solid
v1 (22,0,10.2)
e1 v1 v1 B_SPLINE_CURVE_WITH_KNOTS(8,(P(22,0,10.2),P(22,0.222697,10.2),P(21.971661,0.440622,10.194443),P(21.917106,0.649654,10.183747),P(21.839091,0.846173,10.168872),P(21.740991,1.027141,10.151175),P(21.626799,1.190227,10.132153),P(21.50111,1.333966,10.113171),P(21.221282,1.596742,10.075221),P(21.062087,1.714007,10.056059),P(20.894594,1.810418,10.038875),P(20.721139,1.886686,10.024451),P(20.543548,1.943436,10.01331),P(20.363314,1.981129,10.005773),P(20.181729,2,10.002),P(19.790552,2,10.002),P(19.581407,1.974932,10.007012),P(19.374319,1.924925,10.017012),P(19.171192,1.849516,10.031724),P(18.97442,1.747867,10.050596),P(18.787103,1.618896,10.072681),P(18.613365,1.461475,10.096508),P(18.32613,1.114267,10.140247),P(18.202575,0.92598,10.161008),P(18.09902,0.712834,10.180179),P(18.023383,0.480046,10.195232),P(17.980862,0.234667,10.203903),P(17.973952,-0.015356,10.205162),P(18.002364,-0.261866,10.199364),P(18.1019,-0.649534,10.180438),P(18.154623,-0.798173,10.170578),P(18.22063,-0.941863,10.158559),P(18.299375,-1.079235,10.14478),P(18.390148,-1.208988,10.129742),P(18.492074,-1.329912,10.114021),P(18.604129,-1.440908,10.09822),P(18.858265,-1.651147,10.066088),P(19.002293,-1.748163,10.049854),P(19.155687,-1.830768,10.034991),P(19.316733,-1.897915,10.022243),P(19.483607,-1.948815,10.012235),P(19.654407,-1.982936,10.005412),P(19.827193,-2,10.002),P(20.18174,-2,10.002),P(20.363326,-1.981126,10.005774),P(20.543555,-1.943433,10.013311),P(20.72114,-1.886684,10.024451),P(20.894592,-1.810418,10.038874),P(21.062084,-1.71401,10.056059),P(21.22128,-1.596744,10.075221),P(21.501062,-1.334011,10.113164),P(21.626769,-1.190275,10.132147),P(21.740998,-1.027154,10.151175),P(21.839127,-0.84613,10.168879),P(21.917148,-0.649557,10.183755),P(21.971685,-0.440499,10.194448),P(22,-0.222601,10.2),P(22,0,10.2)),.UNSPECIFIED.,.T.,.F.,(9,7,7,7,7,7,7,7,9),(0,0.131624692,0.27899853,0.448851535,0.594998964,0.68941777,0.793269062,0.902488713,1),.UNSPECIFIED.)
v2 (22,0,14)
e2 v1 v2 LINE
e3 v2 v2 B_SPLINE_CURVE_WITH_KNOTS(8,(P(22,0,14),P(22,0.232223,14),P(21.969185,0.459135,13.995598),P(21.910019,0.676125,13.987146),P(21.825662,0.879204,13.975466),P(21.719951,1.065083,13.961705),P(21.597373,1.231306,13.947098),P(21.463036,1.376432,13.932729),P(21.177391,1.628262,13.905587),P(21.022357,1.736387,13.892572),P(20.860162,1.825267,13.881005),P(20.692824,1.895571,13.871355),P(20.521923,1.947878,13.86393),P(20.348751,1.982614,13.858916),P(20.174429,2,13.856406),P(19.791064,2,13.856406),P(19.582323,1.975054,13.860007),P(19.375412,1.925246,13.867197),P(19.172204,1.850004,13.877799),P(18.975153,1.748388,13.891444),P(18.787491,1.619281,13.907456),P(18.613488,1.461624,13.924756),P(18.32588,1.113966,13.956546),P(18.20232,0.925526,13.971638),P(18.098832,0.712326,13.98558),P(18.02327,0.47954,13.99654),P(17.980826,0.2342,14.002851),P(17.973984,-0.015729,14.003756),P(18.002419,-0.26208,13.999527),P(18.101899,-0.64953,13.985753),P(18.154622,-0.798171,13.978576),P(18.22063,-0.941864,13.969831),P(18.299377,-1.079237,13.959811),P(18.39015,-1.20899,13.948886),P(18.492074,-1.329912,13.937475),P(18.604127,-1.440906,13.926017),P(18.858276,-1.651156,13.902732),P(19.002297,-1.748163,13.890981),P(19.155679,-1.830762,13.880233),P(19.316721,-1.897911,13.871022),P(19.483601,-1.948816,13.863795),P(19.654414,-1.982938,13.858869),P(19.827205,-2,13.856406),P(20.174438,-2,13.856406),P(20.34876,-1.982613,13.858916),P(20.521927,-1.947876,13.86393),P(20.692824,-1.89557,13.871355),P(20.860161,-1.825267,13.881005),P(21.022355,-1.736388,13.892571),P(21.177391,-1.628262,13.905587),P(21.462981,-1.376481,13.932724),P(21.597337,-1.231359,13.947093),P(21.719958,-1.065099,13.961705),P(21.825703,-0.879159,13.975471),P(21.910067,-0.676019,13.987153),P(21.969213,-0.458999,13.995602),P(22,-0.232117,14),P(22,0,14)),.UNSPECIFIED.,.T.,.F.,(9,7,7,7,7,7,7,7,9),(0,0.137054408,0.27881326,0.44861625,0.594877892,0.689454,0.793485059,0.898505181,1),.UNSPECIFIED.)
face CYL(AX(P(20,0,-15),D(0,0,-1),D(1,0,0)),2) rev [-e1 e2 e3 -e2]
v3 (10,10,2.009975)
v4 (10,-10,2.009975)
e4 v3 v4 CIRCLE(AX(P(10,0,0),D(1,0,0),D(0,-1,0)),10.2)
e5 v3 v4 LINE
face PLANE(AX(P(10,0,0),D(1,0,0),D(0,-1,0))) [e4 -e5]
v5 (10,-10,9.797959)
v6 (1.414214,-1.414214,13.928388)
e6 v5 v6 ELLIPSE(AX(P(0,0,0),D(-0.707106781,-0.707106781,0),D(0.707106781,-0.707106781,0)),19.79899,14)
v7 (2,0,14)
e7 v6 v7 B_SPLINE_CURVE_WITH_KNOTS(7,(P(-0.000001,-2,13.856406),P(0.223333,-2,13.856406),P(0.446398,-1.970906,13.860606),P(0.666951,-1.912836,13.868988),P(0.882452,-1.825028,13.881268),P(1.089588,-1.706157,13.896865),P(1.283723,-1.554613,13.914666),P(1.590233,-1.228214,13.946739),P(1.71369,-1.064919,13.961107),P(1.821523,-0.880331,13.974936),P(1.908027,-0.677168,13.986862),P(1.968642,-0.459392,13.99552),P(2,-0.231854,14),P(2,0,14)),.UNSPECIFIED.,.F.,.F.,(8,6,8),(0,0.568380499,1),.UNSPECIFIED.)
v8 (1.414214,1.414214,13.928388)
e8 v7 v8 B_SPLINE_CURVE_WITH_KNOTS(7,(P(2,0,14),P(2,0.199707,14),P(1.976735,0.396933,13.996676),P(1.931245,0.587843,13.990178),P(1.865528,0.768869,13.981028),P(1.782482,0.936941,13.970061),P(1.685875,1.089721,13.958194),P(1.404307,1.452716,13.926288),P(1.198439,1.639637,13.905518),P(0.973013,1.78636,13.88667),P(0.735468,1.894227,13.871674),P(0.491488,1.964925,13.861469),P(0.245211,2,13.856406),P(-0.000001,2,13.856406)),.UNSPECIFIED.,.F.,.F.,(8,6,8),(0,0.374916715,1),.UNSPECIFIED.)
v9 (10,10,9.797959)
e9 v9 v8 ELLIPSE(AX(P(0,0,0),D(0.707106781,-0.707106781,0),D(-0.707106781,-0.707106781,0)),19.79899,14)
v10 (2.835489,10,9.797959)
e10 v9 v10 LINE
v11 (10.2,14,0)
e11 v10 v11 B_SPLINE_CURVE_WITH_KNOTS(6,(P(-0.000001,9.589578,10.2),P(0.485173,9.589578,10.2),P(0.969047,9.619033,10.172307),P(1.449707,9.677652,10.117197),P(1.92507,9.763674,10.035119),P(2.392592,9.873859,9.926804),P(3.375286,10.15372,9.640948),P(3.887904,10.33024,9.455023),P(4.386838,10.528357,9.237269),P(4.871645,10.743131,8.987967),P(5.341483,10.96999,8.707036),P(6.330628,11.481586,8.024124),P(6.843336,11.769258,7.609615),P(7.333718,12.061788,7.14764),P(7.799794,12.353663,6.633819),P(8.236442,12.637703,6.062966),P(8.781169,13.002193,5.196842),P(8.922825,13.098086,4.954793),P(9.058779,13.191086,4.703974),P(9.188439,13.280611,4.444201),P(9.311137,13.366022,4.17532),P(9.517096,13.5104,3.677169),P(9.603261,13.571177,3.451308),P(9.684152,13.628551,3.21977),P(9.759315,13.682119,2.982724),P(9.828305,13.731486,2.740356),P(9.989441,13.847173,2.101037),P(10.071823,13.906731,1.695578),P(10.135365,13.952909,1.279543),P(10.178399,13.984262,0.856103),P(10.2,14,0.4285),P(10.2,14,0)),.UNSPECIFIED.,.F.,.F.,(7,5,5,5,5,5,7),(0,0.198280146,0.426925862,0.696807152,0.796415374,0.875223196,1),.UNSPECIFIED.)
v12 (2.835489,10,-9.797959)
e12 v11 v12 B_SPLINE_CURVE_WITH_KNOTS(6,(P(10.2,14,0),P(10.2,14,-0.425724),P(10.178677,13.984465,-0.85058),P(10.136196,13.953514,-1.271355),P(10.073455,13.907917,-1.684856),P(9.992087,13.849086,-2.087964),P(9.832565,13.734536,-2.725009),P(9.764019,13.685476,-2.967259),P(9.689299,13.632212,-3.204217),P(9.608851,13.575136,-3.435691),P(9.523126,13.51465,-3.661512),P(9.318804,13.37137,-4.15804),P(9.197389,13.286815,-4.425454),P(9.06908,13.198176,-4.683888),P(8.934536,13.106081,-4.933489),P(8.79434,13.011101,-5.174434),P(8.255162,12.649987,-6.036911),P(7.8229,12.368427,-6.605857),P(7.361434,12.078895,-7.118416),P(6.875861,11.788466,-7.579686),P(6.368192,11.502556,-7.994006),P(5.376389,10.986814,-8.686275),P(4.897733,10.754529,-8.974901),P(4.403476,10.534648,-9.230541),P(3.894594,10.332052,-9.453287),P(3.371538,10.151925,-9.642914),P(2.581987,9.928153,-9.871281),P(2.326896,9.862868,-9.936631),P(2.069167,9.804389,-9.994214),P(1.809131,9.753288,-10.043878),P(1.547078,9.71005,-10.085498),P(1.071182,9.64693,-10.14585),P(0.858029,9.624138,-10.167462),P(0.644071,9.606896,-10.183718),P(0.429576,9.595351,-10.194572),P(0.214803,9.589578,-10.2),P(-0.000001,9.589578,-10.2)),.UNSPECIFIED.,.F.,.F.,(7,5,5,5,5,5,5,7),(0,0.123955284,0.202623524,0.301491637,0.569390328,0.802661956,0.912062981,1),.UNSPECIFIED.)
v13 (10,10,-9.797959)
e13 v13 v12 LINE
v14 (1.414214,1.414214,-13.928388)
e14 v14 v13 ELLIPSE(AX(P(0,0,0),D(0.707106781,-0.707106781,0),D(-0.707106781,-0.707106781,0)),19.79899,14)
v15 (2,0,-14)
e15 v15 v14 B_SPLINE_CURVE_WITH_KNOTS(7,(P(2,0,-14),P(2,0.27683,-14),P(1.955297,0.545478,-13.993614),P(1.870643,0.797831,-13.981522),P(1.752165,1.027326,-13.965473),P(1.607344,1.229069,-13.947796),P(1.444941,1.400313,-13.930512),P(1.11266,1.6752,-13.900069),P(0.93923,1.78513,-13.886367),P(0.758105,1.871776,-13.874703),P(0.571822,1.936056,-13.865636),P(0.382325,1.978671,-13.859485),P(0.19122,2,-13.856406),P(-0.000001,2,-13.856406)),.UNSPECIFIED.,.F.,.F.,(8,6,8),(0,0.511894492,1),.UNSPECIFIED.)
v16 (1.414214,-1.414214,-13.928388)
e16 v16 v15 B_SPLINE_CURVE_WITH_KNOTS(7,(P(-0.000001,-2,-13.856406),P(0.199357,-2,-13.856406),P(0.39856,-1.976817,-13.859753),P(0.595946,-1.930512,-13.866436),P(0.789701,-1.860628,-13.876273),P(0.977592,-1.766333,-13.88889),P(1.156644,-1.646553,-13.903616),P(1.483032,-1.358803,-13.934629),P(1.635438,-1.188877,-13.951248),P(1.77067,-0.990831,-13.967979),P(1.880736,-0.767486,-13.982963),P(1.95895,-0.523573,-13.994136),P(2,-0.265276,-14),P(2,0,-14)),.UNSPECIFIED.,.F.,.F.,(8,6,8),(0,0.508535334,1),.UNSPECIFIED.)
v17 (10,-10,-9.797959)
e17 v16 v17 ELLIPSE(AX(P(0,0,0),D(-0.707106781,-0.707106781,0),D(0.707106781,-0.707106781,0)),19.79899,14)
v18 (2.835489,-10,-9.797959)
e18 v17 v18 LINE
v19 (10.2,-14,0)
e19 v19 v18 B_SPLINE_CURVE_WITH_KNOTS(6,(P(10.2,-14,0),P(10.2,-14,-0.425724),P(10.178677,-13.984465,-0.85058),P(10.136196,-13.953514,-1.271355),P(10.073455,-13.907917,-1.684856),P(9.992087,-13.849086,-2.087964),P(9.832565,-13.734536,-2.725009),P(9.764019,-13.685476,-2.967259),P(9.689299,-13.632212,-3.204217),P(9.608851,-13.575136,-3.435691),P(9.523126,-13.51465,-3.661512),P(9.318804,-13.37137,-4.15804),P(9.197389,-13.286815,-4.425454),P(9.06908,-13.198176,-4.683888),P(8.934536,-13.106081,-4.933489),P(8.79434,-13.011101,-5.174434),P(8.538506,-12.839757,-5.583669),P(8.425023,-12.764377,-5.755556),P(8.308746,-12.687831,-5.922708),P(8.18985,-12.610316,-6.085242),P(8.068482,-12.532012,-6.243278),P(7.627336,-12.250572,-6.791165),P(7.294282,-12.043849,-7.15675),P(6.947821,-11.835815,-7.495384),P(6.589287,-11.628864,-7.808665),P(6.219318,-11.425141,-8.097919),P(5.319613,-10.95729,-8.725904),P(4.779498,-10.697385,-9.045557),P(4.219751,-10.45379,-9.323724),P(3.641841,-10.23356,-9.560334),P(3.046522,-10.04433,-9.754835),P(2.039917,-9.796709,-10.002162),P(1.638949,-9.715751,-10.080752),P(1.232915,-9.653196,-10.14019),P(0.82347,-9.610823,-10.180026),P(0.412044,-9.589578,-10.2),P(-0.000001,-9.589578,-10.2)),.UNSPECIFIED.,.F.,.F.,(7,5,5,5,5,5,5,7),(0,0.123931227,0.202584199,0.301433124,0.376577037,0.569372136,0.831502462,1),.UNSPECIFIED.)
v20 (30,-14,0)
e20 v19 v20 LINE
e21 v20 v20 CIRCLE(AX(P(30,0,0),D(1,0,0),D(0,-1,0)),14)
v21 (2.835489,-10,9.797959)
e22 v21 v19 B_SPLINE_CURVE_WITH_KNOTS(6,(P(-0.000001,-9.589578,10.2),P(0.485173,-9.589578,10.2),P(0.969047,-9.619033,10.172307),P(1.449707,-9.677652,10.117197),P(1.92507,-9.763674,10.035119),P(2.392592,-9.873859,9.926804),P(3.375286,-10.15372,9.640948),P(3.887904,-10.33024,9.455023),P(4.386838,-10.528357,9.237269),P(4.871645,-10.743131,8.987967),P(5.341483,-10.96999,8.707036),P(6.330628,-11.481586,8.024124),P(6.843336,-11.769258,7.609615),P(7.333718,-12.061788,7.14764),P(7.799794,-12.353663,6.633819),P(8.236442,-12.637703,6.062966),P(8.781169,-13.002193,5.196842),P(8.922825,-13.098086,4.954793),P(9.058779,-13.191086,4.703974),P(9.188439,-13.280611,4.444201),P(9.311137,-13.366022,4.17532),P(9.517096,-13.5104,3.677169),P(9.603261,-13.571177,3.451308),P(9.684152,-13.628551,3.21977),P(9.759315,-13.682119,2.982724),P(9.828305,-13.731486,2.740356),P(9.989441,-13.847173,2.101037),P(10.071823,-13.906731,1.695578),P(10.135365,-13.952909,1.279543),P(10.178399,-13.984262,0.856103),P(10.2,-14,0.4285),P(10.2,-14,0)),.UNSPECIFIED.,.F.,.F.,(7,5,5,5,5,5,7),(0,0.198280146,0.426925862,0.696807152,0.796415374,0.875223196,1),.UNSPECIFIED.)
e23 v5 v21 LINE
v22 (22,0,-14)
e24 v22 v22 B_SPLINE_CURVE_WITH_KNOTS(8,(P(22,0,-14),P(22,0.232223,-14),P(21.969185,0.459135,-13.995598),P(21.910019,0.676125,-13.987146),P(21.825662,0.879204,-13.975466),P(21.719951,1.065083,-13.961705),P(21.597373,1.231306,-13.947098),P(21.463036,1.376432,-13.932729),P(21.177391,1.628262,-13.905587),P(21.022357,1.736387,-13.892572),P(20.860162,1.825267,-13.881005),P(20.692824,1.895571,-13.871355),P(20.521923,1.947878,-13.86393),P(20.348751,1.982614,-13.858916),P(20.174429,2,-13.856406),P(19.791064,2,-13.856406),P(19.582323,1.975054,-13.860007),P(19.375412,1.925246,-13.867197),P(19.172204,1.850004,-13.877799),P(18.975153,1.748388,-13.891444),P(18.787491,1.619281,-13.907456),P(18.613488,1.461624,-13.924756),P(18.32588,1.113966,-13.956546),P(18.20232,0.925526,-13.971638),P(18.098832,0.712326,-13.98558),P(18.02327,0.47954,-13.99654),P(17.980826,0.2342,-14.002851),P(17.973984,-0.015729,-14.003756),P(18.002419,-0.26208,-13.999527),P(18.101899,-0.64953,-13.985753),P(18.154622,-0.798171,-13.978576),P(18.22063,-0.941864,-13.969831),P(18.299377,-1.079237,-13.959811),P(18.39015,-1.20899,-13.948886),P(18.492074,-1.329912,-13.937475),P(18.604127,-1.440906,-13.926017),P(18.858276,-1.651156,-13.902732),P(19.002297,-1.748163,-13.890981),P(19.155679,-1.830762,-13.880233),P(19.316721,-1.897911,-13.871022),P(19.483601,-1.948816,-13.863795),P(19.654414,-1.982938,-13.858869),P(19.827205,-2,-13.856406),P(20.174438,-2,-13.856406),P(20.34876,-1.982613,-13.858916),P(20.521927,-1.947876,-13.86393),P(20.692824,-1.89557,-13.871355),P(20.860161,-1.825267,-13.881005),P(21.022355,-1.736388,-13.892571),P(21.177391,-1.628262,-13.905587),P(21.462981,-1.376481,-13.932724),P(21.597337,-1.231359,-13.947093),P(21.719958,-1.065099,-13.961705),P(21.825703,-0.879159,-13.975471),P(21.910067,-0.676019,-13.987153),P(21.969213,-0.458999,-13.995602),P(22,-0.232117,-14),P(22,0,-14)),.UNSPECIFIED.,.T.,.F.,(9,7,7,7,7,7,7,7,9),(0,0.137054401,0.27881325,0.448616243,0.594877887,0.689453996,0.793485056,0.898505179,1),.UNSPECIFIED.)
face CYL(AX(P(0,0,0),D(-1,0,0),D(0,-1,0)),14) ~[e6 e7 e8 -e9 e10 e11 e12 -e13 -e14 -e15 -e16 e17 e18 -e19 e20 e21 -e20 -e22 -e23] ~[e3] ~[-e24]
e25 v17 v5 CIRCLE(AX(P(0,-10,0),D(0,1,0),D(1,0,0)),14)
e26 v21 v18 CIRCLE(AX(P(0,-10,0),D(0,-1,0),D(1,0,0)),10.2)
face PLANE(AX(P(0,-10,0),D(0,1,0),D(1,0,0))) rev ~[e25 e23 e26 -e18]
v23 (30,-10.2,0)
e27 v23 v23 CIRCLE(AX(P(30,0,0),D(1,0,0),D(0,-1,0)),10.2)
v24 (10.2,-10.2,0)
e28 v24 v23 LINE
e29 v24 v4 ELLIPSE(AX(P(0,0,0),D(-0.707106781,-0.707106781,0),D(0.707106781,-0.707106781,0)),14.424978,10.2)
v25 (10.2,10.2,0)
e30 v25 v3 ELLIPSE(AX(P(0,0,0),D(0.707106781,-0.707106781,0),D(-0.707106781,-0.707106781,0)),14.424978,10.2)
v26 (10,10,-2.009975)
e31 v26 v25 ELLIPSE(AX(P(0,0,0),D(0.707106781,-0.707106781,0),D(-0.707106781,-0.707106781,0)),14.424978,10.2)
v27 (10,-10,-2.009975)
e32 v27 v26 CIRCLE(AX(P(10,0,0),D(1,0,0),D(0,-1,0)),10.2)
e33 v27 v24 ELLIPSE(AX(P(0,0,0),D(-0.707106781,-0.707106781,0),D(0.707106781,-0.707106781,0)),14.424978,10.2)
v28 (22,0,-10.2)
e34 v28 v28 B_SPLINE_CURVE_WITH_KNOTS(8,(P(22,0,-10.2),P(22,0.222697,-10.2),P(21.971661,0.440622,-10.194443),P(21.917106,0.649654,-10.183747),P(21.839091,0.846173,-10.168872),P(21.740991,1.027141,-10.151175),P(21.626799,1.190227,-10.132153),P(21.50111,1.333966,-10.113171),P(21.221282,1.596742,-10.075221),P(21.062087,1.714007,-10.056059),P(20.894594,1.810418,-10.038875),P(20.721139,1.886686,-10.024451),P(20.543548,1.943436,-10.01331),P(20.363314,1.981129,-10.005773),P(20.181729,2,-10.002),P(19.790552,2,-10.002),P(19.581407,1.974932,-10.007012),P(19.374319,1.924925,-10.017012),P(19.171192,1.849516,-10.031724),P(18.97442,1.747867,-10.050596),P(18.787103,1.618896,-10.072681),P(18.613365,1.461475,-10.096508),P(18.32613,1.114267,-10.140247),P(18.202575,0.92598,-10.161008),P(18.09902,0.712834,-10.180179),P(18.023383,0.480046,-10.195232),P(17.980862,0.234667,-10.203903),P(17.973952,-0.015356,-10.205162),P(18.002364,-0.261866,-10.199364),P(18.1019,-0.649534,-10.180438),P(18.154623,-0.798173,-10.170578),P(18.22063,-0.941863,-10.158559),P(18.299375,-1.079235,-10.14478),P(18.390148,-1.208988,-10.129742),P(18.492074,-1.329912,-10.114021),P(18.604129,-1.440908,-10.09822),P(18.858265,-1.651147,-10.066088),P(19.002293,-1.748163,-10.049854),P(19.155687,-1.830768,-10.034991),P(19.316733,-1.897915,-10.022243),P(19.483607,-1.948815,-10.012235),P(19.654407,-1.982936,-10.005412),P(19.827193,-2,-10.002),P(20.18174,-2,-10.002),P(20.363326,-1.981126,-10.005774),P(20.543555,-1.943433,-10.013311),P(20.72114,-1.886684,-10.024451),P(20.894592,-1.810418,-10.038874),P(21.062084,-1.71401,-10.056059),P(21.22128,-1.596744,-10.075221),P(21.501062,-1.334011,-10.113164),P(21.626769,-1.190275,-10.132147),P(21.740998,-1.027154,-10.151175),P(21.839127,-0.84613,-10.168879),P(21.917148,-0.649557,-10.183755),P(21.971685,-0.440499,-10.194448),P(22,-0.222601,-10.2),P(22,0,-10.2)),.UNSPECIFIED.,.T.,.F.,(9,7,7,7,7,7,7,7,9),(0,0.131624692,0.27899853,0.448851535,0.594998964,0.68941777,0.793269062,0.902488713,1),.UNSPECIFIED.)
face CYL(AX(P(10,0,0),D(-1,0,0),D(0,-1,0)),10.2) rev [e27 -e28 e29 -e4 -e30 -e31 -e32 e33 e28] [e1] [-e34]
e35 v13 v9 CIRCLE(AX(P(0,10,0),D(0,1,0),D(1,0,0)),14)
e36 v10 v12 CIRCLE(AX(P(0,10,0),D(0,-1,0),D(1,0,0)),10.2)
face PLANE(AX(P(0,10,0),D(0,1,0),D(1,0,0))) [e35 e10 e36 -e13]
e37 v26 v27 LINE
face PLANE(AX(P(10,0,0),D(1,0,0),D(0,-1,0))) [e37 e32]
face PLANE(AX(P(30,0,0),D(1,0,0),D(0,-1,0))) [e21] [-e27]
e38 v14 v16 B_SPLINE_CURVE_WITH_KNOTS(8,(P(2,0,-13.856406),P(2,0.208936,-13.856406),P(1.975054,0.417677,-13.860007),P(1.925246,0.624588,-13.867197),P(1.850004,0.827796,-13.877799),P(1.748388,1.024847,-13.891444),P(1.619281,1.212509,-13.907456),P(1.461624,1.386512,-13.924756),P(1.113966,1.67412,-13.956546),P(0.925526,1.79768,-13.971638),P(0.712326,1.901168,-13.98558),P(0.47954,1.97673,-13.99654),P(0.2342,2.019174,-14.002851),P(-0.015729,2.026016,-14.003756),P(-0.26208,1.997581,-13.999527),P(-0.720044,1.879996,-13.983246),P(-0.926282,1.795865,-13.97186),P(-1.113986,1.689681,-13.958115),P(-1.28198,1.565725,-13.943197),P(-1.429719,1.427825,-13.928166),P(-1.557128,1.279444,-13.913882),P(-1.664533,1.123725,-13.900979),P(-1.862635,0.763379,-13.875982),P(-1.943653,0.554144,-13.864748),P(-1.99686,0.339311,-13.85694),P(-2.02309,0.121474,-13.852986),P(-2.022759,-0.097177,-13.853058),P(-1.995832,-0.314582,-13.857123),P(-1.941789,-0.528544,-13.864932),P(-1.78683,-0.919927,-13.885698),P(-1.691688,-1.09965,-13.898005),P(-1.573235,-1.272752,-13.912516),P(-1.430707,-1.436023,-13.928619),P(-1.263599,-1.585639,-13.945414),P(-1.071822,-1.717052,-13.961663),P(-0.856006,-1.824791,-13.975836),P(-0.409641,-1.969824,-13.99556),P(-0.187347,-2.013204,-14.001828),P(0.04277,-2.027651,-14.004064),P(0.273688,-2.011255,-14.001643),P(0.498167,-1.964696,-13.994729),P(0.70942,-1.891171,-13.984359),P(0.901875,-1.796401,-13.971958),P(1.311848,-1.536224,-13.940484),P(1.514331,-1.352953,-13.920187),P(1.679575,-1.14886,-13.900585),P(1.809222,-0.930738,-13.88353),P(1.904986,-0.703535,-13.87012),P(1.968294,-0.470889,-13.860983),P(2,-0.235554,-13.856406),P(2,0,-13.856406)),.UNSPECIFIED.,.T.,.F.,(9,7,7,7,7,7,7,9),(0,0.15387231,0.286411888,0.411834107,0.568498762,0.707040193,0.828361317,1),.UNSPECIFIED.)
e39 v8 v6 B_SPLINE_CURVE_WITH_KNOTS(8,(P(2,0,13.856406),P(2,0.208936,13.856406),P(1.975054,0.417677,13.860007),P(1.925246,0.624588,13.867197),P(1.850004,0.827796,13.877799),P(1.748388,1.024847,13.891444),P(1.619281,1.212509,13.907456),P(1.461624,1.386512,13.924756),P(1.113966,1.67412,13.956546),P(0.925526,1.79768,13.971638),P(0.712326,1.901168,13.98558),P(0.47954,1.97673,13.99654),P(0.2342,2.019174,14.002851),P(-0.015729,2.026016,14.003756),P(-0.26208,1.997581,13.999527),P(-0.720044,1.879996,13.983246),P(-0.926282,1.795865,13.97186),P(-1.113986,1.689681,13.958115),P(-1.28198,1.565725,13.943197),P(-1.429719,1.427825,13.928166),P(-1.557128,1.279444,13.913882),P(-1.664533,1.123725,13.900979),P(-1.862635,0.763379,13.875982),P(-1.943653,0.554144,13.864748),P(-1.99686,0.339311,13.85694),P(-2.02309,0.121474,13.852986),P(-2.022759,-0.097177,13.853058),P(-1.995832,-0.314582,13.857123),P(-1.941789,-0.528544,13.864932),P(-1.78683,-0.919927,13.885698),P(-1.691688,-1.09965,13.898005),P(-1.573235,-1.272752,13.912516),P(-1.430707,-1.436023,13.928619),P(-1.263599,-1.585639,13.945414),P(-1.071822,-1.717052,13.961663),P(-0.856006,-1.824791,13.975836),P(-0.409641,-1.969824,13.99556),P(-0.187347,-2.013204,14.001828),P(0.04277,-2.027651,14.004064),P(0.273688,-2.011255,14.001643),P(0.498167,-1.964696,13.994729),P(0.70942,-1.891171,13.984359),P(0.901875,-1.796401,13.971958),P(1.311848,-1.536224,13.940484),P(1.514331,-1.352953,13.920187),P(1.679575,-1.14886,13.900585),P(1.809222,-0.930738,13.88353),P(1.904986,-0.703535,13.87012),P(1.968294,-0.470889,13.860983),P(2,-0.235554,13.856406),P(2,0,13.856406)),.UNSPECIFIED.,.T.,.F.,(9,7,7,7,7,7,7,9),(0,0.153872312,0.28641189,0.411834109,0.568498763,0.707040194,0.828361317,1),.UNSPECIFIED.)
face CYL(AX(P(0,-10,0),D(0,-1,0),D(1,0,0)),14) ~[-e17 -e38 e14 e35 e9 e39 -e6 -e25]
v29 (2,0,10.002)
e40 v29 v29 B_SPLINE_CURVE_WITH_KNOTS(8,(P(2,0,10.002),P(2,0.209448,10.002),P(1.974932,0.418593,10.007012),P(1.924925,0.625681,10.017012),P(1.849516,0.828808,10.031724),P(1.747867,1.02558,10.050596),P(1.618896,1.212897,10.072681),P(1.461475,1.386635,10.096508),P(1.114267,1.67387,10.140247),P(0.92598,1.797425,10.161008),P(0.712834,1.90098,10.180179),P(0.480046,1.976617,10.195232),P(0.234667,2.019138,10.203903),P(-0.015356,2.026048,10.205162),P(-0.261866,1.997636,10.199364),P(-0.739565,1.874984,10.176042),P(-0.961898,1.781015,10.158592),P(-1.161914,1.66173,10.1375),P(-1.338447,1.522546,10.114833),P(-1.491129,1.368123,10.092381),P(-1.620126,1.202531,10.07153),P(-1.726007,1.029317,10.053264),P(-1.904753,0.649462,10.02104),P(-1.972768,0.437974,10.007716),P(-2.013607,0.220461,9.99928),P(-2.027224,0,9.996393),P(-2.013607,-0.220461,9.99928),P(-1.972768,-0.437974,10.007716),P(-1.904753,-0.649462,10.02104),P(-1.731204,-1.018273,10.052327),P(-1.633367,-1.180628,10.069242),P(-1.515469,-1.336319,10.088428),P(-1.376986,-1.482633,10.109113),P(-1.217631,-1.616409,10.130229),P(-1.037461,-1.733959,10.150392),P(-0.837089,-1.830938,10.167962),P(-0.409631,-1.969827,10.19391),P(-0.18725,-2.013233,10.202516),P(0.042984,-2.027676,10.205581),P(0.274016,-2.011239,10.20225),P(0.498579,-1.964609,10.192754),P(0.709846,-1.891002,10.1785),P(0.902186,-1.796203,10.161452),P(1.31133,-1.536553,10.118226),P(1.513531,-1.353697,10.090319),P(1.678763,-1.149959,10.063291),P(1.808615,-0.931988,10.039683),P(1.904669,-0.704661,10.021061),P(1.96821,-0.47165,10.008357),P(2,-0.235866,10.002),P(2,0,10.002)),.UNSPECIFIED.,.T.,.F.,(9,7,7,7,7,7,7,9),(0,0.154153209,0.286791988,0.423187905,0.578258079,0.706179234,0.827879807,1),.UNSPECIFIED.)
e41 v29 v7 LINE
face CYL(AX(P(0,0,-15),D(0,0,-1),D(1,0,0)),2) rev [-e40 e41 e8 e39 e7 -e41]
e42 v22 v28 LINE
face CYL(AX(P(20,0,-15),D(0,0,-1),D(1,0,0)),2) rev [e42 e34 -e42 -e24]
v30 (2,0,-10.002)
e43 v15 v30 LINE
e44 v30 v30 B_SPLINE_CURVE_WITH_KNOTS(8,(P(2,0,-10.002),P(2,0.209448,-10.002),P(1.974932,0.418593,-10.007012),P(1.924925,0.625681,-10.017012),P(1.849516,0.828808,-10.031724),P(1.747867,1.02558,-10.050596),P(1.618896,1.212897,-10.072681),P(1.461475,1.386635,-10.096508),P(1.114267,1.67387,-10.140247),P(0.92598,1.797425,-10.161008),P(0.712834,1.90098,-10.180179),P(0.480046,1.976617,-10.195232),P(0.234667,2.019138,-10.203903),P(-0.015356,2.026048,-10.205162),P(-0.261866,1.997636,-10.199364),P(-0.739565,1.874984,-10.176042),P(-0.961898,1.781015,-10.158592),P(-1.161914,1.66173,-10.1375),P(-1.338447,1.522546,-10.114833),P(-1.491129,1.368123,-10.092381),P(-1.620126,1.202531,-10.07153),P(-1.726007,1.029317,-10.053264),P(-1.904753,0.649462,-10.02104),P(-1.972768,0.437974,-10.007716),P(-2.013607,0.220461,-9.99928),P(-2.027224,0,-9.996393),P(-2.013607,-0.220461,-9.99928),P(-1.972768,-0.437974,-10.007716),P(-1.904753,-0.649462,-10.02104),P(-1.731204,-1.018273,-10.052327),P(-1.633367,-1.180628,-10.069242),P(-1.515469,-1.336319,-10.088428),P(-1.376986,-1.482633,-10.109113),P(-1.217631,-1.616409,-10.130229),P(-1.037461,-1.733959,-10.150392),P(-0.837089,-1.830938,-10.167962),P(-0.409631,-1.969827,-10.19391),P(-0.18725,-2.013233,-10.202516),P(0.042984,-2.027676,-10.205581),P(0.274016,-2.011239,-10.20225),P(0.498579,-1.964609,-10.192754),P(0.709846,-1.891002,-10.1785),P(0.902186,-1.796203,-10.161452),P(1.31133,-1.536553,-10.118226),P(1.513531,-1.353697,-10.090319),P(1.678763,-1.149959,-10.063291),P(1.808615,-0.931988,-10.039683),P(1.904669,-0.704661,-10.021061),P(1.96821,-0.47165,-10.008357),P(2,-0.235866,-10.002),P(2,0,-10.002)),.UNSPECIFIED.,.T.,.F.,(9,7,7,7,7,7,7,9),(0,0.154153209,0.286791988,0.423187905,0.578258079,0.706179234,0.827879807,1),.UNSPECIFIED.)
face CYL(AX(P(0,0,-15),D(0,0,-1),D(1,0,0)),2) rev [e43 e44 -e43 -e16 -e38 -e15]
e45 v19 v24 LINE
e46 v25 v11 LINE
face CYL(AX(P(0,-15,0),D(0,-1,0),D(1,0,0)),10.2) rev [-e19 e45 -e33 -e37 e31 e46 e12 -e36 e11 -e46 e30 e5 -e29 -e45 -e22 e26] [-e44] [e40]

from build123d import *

# Parameters (mm, degrees)
CYLINDER001_R          = 10.2
CYLINDER001_DEPTH      = 20
CYLINDER002_R          = 2
CYLINDER002_DEPTH      = 30
CYLINDER003_R          = 2
CYLINDER003_DEPTH      = 30
CYLINDER_R             = 10.2
CYLINDER_DEPTH         = 30
CYLINDER_ROLL_ANGLE    = -90
CYLINDER004_R          = 14
CYLINDER004_DEPTH      = 30
CYLINDER005_R          = 14
CYLINDER005_DEPTH      = 20
CYLINDER005_ROLL_ANGLE = -90


with BuildPart() as cylinder001:
    # Cylinder001 → Cylinder001 (new body)
    with BuildSketch(Plane(origin=(10, 0, 0), x_dir=(0, -1, 0), z_dir=(1, 0, 0))):
        Circle(CYLINDER001_R)
    extrude(amount=CYLINDER001_DEPTH)


with BuildPart() as cylinder002:
    # Cylinder002 → Cylinder002 (new body)
    with BuildSketch(Plane.XY.offset(-15)):
        Circle(CYLINDER002_R)
    extrude(amount=CYLINDER002_DEPTH)


with BuildPart() as cylinder003:
    # Cylinder003 → Cylinder003 (new body)
    with BuildSketch(Plane(origin=(20, 0, -15), x_dir=(1, 0, 0), z_dir=(0, 0, 1))):
        Circle(CYLINDER003_R)
    extrude(amount=CYLINDER003_DEPTH)


with BuildPart() as negative_fusion:
    # Cylinder → Cylinder (new body)
    with BuildSketch(Plane.XY):
        Circle(CYLINDER_R)
    extrude(amount=CYLINDER_DEPTH)


with BuildPart() as negative_fusion_1:
    # Cylinder roll: moved
    add(negative_fusion.part.rotate(Axis((0, 0, 0), (1, 0, 0)), CYLINDER_ROLL_ANGLE))


with BuildPart() as negative_fusion_2:
    # Cylinder placement: moved
    add(negative_fusion_1.part.moved(Location((0, -15, 0))))

    # Fusion: union Cylinder001, Cylinder002, Cylinder003
    add(cylinder001.part)
    add(cylinder002.part)
    add(cylinder003.part)


with BuildPart() as cylinder004:
    # Cylinder004 → Cylinder004 (new body)
    with BuildSketch(Plane(origin=(0, 0, 0), x_dir=(0, -1, 0), z_dir=(1, 0, 0))):
        Circle(CYLINDER004_R)
    extrude(amount=CYLINDER004_DEPTH)


with BuildPart() as cut:
    # Cylinder005 → Cylinder005 (new body)
    with BuildSketch(Plane.XY):
        Circle(CYLINDER005_R)
    extrude(amount=CYLINDER005_DEPTH)


with BuildPart() as cut_1:
    # Cylinder005 roll: moved
    add(cut.part.rotate(Axis((0, 0, 0), (1, 0, 0)), CYLINDER005_ROLL_ANGLE))


with BuildPart() as cut_2:
    # Cylinder005 placement: moved
    add(cut_1.part.moved(Location((0, -10, 0))))

    # Fusion001: union Cylinder004
    add(cylinder004.part)

    # Cut: cut Negative Fusion
    add(negative_fusion_2.part, mode=Mode.SUBTRACT)


solid = cut_2.part
